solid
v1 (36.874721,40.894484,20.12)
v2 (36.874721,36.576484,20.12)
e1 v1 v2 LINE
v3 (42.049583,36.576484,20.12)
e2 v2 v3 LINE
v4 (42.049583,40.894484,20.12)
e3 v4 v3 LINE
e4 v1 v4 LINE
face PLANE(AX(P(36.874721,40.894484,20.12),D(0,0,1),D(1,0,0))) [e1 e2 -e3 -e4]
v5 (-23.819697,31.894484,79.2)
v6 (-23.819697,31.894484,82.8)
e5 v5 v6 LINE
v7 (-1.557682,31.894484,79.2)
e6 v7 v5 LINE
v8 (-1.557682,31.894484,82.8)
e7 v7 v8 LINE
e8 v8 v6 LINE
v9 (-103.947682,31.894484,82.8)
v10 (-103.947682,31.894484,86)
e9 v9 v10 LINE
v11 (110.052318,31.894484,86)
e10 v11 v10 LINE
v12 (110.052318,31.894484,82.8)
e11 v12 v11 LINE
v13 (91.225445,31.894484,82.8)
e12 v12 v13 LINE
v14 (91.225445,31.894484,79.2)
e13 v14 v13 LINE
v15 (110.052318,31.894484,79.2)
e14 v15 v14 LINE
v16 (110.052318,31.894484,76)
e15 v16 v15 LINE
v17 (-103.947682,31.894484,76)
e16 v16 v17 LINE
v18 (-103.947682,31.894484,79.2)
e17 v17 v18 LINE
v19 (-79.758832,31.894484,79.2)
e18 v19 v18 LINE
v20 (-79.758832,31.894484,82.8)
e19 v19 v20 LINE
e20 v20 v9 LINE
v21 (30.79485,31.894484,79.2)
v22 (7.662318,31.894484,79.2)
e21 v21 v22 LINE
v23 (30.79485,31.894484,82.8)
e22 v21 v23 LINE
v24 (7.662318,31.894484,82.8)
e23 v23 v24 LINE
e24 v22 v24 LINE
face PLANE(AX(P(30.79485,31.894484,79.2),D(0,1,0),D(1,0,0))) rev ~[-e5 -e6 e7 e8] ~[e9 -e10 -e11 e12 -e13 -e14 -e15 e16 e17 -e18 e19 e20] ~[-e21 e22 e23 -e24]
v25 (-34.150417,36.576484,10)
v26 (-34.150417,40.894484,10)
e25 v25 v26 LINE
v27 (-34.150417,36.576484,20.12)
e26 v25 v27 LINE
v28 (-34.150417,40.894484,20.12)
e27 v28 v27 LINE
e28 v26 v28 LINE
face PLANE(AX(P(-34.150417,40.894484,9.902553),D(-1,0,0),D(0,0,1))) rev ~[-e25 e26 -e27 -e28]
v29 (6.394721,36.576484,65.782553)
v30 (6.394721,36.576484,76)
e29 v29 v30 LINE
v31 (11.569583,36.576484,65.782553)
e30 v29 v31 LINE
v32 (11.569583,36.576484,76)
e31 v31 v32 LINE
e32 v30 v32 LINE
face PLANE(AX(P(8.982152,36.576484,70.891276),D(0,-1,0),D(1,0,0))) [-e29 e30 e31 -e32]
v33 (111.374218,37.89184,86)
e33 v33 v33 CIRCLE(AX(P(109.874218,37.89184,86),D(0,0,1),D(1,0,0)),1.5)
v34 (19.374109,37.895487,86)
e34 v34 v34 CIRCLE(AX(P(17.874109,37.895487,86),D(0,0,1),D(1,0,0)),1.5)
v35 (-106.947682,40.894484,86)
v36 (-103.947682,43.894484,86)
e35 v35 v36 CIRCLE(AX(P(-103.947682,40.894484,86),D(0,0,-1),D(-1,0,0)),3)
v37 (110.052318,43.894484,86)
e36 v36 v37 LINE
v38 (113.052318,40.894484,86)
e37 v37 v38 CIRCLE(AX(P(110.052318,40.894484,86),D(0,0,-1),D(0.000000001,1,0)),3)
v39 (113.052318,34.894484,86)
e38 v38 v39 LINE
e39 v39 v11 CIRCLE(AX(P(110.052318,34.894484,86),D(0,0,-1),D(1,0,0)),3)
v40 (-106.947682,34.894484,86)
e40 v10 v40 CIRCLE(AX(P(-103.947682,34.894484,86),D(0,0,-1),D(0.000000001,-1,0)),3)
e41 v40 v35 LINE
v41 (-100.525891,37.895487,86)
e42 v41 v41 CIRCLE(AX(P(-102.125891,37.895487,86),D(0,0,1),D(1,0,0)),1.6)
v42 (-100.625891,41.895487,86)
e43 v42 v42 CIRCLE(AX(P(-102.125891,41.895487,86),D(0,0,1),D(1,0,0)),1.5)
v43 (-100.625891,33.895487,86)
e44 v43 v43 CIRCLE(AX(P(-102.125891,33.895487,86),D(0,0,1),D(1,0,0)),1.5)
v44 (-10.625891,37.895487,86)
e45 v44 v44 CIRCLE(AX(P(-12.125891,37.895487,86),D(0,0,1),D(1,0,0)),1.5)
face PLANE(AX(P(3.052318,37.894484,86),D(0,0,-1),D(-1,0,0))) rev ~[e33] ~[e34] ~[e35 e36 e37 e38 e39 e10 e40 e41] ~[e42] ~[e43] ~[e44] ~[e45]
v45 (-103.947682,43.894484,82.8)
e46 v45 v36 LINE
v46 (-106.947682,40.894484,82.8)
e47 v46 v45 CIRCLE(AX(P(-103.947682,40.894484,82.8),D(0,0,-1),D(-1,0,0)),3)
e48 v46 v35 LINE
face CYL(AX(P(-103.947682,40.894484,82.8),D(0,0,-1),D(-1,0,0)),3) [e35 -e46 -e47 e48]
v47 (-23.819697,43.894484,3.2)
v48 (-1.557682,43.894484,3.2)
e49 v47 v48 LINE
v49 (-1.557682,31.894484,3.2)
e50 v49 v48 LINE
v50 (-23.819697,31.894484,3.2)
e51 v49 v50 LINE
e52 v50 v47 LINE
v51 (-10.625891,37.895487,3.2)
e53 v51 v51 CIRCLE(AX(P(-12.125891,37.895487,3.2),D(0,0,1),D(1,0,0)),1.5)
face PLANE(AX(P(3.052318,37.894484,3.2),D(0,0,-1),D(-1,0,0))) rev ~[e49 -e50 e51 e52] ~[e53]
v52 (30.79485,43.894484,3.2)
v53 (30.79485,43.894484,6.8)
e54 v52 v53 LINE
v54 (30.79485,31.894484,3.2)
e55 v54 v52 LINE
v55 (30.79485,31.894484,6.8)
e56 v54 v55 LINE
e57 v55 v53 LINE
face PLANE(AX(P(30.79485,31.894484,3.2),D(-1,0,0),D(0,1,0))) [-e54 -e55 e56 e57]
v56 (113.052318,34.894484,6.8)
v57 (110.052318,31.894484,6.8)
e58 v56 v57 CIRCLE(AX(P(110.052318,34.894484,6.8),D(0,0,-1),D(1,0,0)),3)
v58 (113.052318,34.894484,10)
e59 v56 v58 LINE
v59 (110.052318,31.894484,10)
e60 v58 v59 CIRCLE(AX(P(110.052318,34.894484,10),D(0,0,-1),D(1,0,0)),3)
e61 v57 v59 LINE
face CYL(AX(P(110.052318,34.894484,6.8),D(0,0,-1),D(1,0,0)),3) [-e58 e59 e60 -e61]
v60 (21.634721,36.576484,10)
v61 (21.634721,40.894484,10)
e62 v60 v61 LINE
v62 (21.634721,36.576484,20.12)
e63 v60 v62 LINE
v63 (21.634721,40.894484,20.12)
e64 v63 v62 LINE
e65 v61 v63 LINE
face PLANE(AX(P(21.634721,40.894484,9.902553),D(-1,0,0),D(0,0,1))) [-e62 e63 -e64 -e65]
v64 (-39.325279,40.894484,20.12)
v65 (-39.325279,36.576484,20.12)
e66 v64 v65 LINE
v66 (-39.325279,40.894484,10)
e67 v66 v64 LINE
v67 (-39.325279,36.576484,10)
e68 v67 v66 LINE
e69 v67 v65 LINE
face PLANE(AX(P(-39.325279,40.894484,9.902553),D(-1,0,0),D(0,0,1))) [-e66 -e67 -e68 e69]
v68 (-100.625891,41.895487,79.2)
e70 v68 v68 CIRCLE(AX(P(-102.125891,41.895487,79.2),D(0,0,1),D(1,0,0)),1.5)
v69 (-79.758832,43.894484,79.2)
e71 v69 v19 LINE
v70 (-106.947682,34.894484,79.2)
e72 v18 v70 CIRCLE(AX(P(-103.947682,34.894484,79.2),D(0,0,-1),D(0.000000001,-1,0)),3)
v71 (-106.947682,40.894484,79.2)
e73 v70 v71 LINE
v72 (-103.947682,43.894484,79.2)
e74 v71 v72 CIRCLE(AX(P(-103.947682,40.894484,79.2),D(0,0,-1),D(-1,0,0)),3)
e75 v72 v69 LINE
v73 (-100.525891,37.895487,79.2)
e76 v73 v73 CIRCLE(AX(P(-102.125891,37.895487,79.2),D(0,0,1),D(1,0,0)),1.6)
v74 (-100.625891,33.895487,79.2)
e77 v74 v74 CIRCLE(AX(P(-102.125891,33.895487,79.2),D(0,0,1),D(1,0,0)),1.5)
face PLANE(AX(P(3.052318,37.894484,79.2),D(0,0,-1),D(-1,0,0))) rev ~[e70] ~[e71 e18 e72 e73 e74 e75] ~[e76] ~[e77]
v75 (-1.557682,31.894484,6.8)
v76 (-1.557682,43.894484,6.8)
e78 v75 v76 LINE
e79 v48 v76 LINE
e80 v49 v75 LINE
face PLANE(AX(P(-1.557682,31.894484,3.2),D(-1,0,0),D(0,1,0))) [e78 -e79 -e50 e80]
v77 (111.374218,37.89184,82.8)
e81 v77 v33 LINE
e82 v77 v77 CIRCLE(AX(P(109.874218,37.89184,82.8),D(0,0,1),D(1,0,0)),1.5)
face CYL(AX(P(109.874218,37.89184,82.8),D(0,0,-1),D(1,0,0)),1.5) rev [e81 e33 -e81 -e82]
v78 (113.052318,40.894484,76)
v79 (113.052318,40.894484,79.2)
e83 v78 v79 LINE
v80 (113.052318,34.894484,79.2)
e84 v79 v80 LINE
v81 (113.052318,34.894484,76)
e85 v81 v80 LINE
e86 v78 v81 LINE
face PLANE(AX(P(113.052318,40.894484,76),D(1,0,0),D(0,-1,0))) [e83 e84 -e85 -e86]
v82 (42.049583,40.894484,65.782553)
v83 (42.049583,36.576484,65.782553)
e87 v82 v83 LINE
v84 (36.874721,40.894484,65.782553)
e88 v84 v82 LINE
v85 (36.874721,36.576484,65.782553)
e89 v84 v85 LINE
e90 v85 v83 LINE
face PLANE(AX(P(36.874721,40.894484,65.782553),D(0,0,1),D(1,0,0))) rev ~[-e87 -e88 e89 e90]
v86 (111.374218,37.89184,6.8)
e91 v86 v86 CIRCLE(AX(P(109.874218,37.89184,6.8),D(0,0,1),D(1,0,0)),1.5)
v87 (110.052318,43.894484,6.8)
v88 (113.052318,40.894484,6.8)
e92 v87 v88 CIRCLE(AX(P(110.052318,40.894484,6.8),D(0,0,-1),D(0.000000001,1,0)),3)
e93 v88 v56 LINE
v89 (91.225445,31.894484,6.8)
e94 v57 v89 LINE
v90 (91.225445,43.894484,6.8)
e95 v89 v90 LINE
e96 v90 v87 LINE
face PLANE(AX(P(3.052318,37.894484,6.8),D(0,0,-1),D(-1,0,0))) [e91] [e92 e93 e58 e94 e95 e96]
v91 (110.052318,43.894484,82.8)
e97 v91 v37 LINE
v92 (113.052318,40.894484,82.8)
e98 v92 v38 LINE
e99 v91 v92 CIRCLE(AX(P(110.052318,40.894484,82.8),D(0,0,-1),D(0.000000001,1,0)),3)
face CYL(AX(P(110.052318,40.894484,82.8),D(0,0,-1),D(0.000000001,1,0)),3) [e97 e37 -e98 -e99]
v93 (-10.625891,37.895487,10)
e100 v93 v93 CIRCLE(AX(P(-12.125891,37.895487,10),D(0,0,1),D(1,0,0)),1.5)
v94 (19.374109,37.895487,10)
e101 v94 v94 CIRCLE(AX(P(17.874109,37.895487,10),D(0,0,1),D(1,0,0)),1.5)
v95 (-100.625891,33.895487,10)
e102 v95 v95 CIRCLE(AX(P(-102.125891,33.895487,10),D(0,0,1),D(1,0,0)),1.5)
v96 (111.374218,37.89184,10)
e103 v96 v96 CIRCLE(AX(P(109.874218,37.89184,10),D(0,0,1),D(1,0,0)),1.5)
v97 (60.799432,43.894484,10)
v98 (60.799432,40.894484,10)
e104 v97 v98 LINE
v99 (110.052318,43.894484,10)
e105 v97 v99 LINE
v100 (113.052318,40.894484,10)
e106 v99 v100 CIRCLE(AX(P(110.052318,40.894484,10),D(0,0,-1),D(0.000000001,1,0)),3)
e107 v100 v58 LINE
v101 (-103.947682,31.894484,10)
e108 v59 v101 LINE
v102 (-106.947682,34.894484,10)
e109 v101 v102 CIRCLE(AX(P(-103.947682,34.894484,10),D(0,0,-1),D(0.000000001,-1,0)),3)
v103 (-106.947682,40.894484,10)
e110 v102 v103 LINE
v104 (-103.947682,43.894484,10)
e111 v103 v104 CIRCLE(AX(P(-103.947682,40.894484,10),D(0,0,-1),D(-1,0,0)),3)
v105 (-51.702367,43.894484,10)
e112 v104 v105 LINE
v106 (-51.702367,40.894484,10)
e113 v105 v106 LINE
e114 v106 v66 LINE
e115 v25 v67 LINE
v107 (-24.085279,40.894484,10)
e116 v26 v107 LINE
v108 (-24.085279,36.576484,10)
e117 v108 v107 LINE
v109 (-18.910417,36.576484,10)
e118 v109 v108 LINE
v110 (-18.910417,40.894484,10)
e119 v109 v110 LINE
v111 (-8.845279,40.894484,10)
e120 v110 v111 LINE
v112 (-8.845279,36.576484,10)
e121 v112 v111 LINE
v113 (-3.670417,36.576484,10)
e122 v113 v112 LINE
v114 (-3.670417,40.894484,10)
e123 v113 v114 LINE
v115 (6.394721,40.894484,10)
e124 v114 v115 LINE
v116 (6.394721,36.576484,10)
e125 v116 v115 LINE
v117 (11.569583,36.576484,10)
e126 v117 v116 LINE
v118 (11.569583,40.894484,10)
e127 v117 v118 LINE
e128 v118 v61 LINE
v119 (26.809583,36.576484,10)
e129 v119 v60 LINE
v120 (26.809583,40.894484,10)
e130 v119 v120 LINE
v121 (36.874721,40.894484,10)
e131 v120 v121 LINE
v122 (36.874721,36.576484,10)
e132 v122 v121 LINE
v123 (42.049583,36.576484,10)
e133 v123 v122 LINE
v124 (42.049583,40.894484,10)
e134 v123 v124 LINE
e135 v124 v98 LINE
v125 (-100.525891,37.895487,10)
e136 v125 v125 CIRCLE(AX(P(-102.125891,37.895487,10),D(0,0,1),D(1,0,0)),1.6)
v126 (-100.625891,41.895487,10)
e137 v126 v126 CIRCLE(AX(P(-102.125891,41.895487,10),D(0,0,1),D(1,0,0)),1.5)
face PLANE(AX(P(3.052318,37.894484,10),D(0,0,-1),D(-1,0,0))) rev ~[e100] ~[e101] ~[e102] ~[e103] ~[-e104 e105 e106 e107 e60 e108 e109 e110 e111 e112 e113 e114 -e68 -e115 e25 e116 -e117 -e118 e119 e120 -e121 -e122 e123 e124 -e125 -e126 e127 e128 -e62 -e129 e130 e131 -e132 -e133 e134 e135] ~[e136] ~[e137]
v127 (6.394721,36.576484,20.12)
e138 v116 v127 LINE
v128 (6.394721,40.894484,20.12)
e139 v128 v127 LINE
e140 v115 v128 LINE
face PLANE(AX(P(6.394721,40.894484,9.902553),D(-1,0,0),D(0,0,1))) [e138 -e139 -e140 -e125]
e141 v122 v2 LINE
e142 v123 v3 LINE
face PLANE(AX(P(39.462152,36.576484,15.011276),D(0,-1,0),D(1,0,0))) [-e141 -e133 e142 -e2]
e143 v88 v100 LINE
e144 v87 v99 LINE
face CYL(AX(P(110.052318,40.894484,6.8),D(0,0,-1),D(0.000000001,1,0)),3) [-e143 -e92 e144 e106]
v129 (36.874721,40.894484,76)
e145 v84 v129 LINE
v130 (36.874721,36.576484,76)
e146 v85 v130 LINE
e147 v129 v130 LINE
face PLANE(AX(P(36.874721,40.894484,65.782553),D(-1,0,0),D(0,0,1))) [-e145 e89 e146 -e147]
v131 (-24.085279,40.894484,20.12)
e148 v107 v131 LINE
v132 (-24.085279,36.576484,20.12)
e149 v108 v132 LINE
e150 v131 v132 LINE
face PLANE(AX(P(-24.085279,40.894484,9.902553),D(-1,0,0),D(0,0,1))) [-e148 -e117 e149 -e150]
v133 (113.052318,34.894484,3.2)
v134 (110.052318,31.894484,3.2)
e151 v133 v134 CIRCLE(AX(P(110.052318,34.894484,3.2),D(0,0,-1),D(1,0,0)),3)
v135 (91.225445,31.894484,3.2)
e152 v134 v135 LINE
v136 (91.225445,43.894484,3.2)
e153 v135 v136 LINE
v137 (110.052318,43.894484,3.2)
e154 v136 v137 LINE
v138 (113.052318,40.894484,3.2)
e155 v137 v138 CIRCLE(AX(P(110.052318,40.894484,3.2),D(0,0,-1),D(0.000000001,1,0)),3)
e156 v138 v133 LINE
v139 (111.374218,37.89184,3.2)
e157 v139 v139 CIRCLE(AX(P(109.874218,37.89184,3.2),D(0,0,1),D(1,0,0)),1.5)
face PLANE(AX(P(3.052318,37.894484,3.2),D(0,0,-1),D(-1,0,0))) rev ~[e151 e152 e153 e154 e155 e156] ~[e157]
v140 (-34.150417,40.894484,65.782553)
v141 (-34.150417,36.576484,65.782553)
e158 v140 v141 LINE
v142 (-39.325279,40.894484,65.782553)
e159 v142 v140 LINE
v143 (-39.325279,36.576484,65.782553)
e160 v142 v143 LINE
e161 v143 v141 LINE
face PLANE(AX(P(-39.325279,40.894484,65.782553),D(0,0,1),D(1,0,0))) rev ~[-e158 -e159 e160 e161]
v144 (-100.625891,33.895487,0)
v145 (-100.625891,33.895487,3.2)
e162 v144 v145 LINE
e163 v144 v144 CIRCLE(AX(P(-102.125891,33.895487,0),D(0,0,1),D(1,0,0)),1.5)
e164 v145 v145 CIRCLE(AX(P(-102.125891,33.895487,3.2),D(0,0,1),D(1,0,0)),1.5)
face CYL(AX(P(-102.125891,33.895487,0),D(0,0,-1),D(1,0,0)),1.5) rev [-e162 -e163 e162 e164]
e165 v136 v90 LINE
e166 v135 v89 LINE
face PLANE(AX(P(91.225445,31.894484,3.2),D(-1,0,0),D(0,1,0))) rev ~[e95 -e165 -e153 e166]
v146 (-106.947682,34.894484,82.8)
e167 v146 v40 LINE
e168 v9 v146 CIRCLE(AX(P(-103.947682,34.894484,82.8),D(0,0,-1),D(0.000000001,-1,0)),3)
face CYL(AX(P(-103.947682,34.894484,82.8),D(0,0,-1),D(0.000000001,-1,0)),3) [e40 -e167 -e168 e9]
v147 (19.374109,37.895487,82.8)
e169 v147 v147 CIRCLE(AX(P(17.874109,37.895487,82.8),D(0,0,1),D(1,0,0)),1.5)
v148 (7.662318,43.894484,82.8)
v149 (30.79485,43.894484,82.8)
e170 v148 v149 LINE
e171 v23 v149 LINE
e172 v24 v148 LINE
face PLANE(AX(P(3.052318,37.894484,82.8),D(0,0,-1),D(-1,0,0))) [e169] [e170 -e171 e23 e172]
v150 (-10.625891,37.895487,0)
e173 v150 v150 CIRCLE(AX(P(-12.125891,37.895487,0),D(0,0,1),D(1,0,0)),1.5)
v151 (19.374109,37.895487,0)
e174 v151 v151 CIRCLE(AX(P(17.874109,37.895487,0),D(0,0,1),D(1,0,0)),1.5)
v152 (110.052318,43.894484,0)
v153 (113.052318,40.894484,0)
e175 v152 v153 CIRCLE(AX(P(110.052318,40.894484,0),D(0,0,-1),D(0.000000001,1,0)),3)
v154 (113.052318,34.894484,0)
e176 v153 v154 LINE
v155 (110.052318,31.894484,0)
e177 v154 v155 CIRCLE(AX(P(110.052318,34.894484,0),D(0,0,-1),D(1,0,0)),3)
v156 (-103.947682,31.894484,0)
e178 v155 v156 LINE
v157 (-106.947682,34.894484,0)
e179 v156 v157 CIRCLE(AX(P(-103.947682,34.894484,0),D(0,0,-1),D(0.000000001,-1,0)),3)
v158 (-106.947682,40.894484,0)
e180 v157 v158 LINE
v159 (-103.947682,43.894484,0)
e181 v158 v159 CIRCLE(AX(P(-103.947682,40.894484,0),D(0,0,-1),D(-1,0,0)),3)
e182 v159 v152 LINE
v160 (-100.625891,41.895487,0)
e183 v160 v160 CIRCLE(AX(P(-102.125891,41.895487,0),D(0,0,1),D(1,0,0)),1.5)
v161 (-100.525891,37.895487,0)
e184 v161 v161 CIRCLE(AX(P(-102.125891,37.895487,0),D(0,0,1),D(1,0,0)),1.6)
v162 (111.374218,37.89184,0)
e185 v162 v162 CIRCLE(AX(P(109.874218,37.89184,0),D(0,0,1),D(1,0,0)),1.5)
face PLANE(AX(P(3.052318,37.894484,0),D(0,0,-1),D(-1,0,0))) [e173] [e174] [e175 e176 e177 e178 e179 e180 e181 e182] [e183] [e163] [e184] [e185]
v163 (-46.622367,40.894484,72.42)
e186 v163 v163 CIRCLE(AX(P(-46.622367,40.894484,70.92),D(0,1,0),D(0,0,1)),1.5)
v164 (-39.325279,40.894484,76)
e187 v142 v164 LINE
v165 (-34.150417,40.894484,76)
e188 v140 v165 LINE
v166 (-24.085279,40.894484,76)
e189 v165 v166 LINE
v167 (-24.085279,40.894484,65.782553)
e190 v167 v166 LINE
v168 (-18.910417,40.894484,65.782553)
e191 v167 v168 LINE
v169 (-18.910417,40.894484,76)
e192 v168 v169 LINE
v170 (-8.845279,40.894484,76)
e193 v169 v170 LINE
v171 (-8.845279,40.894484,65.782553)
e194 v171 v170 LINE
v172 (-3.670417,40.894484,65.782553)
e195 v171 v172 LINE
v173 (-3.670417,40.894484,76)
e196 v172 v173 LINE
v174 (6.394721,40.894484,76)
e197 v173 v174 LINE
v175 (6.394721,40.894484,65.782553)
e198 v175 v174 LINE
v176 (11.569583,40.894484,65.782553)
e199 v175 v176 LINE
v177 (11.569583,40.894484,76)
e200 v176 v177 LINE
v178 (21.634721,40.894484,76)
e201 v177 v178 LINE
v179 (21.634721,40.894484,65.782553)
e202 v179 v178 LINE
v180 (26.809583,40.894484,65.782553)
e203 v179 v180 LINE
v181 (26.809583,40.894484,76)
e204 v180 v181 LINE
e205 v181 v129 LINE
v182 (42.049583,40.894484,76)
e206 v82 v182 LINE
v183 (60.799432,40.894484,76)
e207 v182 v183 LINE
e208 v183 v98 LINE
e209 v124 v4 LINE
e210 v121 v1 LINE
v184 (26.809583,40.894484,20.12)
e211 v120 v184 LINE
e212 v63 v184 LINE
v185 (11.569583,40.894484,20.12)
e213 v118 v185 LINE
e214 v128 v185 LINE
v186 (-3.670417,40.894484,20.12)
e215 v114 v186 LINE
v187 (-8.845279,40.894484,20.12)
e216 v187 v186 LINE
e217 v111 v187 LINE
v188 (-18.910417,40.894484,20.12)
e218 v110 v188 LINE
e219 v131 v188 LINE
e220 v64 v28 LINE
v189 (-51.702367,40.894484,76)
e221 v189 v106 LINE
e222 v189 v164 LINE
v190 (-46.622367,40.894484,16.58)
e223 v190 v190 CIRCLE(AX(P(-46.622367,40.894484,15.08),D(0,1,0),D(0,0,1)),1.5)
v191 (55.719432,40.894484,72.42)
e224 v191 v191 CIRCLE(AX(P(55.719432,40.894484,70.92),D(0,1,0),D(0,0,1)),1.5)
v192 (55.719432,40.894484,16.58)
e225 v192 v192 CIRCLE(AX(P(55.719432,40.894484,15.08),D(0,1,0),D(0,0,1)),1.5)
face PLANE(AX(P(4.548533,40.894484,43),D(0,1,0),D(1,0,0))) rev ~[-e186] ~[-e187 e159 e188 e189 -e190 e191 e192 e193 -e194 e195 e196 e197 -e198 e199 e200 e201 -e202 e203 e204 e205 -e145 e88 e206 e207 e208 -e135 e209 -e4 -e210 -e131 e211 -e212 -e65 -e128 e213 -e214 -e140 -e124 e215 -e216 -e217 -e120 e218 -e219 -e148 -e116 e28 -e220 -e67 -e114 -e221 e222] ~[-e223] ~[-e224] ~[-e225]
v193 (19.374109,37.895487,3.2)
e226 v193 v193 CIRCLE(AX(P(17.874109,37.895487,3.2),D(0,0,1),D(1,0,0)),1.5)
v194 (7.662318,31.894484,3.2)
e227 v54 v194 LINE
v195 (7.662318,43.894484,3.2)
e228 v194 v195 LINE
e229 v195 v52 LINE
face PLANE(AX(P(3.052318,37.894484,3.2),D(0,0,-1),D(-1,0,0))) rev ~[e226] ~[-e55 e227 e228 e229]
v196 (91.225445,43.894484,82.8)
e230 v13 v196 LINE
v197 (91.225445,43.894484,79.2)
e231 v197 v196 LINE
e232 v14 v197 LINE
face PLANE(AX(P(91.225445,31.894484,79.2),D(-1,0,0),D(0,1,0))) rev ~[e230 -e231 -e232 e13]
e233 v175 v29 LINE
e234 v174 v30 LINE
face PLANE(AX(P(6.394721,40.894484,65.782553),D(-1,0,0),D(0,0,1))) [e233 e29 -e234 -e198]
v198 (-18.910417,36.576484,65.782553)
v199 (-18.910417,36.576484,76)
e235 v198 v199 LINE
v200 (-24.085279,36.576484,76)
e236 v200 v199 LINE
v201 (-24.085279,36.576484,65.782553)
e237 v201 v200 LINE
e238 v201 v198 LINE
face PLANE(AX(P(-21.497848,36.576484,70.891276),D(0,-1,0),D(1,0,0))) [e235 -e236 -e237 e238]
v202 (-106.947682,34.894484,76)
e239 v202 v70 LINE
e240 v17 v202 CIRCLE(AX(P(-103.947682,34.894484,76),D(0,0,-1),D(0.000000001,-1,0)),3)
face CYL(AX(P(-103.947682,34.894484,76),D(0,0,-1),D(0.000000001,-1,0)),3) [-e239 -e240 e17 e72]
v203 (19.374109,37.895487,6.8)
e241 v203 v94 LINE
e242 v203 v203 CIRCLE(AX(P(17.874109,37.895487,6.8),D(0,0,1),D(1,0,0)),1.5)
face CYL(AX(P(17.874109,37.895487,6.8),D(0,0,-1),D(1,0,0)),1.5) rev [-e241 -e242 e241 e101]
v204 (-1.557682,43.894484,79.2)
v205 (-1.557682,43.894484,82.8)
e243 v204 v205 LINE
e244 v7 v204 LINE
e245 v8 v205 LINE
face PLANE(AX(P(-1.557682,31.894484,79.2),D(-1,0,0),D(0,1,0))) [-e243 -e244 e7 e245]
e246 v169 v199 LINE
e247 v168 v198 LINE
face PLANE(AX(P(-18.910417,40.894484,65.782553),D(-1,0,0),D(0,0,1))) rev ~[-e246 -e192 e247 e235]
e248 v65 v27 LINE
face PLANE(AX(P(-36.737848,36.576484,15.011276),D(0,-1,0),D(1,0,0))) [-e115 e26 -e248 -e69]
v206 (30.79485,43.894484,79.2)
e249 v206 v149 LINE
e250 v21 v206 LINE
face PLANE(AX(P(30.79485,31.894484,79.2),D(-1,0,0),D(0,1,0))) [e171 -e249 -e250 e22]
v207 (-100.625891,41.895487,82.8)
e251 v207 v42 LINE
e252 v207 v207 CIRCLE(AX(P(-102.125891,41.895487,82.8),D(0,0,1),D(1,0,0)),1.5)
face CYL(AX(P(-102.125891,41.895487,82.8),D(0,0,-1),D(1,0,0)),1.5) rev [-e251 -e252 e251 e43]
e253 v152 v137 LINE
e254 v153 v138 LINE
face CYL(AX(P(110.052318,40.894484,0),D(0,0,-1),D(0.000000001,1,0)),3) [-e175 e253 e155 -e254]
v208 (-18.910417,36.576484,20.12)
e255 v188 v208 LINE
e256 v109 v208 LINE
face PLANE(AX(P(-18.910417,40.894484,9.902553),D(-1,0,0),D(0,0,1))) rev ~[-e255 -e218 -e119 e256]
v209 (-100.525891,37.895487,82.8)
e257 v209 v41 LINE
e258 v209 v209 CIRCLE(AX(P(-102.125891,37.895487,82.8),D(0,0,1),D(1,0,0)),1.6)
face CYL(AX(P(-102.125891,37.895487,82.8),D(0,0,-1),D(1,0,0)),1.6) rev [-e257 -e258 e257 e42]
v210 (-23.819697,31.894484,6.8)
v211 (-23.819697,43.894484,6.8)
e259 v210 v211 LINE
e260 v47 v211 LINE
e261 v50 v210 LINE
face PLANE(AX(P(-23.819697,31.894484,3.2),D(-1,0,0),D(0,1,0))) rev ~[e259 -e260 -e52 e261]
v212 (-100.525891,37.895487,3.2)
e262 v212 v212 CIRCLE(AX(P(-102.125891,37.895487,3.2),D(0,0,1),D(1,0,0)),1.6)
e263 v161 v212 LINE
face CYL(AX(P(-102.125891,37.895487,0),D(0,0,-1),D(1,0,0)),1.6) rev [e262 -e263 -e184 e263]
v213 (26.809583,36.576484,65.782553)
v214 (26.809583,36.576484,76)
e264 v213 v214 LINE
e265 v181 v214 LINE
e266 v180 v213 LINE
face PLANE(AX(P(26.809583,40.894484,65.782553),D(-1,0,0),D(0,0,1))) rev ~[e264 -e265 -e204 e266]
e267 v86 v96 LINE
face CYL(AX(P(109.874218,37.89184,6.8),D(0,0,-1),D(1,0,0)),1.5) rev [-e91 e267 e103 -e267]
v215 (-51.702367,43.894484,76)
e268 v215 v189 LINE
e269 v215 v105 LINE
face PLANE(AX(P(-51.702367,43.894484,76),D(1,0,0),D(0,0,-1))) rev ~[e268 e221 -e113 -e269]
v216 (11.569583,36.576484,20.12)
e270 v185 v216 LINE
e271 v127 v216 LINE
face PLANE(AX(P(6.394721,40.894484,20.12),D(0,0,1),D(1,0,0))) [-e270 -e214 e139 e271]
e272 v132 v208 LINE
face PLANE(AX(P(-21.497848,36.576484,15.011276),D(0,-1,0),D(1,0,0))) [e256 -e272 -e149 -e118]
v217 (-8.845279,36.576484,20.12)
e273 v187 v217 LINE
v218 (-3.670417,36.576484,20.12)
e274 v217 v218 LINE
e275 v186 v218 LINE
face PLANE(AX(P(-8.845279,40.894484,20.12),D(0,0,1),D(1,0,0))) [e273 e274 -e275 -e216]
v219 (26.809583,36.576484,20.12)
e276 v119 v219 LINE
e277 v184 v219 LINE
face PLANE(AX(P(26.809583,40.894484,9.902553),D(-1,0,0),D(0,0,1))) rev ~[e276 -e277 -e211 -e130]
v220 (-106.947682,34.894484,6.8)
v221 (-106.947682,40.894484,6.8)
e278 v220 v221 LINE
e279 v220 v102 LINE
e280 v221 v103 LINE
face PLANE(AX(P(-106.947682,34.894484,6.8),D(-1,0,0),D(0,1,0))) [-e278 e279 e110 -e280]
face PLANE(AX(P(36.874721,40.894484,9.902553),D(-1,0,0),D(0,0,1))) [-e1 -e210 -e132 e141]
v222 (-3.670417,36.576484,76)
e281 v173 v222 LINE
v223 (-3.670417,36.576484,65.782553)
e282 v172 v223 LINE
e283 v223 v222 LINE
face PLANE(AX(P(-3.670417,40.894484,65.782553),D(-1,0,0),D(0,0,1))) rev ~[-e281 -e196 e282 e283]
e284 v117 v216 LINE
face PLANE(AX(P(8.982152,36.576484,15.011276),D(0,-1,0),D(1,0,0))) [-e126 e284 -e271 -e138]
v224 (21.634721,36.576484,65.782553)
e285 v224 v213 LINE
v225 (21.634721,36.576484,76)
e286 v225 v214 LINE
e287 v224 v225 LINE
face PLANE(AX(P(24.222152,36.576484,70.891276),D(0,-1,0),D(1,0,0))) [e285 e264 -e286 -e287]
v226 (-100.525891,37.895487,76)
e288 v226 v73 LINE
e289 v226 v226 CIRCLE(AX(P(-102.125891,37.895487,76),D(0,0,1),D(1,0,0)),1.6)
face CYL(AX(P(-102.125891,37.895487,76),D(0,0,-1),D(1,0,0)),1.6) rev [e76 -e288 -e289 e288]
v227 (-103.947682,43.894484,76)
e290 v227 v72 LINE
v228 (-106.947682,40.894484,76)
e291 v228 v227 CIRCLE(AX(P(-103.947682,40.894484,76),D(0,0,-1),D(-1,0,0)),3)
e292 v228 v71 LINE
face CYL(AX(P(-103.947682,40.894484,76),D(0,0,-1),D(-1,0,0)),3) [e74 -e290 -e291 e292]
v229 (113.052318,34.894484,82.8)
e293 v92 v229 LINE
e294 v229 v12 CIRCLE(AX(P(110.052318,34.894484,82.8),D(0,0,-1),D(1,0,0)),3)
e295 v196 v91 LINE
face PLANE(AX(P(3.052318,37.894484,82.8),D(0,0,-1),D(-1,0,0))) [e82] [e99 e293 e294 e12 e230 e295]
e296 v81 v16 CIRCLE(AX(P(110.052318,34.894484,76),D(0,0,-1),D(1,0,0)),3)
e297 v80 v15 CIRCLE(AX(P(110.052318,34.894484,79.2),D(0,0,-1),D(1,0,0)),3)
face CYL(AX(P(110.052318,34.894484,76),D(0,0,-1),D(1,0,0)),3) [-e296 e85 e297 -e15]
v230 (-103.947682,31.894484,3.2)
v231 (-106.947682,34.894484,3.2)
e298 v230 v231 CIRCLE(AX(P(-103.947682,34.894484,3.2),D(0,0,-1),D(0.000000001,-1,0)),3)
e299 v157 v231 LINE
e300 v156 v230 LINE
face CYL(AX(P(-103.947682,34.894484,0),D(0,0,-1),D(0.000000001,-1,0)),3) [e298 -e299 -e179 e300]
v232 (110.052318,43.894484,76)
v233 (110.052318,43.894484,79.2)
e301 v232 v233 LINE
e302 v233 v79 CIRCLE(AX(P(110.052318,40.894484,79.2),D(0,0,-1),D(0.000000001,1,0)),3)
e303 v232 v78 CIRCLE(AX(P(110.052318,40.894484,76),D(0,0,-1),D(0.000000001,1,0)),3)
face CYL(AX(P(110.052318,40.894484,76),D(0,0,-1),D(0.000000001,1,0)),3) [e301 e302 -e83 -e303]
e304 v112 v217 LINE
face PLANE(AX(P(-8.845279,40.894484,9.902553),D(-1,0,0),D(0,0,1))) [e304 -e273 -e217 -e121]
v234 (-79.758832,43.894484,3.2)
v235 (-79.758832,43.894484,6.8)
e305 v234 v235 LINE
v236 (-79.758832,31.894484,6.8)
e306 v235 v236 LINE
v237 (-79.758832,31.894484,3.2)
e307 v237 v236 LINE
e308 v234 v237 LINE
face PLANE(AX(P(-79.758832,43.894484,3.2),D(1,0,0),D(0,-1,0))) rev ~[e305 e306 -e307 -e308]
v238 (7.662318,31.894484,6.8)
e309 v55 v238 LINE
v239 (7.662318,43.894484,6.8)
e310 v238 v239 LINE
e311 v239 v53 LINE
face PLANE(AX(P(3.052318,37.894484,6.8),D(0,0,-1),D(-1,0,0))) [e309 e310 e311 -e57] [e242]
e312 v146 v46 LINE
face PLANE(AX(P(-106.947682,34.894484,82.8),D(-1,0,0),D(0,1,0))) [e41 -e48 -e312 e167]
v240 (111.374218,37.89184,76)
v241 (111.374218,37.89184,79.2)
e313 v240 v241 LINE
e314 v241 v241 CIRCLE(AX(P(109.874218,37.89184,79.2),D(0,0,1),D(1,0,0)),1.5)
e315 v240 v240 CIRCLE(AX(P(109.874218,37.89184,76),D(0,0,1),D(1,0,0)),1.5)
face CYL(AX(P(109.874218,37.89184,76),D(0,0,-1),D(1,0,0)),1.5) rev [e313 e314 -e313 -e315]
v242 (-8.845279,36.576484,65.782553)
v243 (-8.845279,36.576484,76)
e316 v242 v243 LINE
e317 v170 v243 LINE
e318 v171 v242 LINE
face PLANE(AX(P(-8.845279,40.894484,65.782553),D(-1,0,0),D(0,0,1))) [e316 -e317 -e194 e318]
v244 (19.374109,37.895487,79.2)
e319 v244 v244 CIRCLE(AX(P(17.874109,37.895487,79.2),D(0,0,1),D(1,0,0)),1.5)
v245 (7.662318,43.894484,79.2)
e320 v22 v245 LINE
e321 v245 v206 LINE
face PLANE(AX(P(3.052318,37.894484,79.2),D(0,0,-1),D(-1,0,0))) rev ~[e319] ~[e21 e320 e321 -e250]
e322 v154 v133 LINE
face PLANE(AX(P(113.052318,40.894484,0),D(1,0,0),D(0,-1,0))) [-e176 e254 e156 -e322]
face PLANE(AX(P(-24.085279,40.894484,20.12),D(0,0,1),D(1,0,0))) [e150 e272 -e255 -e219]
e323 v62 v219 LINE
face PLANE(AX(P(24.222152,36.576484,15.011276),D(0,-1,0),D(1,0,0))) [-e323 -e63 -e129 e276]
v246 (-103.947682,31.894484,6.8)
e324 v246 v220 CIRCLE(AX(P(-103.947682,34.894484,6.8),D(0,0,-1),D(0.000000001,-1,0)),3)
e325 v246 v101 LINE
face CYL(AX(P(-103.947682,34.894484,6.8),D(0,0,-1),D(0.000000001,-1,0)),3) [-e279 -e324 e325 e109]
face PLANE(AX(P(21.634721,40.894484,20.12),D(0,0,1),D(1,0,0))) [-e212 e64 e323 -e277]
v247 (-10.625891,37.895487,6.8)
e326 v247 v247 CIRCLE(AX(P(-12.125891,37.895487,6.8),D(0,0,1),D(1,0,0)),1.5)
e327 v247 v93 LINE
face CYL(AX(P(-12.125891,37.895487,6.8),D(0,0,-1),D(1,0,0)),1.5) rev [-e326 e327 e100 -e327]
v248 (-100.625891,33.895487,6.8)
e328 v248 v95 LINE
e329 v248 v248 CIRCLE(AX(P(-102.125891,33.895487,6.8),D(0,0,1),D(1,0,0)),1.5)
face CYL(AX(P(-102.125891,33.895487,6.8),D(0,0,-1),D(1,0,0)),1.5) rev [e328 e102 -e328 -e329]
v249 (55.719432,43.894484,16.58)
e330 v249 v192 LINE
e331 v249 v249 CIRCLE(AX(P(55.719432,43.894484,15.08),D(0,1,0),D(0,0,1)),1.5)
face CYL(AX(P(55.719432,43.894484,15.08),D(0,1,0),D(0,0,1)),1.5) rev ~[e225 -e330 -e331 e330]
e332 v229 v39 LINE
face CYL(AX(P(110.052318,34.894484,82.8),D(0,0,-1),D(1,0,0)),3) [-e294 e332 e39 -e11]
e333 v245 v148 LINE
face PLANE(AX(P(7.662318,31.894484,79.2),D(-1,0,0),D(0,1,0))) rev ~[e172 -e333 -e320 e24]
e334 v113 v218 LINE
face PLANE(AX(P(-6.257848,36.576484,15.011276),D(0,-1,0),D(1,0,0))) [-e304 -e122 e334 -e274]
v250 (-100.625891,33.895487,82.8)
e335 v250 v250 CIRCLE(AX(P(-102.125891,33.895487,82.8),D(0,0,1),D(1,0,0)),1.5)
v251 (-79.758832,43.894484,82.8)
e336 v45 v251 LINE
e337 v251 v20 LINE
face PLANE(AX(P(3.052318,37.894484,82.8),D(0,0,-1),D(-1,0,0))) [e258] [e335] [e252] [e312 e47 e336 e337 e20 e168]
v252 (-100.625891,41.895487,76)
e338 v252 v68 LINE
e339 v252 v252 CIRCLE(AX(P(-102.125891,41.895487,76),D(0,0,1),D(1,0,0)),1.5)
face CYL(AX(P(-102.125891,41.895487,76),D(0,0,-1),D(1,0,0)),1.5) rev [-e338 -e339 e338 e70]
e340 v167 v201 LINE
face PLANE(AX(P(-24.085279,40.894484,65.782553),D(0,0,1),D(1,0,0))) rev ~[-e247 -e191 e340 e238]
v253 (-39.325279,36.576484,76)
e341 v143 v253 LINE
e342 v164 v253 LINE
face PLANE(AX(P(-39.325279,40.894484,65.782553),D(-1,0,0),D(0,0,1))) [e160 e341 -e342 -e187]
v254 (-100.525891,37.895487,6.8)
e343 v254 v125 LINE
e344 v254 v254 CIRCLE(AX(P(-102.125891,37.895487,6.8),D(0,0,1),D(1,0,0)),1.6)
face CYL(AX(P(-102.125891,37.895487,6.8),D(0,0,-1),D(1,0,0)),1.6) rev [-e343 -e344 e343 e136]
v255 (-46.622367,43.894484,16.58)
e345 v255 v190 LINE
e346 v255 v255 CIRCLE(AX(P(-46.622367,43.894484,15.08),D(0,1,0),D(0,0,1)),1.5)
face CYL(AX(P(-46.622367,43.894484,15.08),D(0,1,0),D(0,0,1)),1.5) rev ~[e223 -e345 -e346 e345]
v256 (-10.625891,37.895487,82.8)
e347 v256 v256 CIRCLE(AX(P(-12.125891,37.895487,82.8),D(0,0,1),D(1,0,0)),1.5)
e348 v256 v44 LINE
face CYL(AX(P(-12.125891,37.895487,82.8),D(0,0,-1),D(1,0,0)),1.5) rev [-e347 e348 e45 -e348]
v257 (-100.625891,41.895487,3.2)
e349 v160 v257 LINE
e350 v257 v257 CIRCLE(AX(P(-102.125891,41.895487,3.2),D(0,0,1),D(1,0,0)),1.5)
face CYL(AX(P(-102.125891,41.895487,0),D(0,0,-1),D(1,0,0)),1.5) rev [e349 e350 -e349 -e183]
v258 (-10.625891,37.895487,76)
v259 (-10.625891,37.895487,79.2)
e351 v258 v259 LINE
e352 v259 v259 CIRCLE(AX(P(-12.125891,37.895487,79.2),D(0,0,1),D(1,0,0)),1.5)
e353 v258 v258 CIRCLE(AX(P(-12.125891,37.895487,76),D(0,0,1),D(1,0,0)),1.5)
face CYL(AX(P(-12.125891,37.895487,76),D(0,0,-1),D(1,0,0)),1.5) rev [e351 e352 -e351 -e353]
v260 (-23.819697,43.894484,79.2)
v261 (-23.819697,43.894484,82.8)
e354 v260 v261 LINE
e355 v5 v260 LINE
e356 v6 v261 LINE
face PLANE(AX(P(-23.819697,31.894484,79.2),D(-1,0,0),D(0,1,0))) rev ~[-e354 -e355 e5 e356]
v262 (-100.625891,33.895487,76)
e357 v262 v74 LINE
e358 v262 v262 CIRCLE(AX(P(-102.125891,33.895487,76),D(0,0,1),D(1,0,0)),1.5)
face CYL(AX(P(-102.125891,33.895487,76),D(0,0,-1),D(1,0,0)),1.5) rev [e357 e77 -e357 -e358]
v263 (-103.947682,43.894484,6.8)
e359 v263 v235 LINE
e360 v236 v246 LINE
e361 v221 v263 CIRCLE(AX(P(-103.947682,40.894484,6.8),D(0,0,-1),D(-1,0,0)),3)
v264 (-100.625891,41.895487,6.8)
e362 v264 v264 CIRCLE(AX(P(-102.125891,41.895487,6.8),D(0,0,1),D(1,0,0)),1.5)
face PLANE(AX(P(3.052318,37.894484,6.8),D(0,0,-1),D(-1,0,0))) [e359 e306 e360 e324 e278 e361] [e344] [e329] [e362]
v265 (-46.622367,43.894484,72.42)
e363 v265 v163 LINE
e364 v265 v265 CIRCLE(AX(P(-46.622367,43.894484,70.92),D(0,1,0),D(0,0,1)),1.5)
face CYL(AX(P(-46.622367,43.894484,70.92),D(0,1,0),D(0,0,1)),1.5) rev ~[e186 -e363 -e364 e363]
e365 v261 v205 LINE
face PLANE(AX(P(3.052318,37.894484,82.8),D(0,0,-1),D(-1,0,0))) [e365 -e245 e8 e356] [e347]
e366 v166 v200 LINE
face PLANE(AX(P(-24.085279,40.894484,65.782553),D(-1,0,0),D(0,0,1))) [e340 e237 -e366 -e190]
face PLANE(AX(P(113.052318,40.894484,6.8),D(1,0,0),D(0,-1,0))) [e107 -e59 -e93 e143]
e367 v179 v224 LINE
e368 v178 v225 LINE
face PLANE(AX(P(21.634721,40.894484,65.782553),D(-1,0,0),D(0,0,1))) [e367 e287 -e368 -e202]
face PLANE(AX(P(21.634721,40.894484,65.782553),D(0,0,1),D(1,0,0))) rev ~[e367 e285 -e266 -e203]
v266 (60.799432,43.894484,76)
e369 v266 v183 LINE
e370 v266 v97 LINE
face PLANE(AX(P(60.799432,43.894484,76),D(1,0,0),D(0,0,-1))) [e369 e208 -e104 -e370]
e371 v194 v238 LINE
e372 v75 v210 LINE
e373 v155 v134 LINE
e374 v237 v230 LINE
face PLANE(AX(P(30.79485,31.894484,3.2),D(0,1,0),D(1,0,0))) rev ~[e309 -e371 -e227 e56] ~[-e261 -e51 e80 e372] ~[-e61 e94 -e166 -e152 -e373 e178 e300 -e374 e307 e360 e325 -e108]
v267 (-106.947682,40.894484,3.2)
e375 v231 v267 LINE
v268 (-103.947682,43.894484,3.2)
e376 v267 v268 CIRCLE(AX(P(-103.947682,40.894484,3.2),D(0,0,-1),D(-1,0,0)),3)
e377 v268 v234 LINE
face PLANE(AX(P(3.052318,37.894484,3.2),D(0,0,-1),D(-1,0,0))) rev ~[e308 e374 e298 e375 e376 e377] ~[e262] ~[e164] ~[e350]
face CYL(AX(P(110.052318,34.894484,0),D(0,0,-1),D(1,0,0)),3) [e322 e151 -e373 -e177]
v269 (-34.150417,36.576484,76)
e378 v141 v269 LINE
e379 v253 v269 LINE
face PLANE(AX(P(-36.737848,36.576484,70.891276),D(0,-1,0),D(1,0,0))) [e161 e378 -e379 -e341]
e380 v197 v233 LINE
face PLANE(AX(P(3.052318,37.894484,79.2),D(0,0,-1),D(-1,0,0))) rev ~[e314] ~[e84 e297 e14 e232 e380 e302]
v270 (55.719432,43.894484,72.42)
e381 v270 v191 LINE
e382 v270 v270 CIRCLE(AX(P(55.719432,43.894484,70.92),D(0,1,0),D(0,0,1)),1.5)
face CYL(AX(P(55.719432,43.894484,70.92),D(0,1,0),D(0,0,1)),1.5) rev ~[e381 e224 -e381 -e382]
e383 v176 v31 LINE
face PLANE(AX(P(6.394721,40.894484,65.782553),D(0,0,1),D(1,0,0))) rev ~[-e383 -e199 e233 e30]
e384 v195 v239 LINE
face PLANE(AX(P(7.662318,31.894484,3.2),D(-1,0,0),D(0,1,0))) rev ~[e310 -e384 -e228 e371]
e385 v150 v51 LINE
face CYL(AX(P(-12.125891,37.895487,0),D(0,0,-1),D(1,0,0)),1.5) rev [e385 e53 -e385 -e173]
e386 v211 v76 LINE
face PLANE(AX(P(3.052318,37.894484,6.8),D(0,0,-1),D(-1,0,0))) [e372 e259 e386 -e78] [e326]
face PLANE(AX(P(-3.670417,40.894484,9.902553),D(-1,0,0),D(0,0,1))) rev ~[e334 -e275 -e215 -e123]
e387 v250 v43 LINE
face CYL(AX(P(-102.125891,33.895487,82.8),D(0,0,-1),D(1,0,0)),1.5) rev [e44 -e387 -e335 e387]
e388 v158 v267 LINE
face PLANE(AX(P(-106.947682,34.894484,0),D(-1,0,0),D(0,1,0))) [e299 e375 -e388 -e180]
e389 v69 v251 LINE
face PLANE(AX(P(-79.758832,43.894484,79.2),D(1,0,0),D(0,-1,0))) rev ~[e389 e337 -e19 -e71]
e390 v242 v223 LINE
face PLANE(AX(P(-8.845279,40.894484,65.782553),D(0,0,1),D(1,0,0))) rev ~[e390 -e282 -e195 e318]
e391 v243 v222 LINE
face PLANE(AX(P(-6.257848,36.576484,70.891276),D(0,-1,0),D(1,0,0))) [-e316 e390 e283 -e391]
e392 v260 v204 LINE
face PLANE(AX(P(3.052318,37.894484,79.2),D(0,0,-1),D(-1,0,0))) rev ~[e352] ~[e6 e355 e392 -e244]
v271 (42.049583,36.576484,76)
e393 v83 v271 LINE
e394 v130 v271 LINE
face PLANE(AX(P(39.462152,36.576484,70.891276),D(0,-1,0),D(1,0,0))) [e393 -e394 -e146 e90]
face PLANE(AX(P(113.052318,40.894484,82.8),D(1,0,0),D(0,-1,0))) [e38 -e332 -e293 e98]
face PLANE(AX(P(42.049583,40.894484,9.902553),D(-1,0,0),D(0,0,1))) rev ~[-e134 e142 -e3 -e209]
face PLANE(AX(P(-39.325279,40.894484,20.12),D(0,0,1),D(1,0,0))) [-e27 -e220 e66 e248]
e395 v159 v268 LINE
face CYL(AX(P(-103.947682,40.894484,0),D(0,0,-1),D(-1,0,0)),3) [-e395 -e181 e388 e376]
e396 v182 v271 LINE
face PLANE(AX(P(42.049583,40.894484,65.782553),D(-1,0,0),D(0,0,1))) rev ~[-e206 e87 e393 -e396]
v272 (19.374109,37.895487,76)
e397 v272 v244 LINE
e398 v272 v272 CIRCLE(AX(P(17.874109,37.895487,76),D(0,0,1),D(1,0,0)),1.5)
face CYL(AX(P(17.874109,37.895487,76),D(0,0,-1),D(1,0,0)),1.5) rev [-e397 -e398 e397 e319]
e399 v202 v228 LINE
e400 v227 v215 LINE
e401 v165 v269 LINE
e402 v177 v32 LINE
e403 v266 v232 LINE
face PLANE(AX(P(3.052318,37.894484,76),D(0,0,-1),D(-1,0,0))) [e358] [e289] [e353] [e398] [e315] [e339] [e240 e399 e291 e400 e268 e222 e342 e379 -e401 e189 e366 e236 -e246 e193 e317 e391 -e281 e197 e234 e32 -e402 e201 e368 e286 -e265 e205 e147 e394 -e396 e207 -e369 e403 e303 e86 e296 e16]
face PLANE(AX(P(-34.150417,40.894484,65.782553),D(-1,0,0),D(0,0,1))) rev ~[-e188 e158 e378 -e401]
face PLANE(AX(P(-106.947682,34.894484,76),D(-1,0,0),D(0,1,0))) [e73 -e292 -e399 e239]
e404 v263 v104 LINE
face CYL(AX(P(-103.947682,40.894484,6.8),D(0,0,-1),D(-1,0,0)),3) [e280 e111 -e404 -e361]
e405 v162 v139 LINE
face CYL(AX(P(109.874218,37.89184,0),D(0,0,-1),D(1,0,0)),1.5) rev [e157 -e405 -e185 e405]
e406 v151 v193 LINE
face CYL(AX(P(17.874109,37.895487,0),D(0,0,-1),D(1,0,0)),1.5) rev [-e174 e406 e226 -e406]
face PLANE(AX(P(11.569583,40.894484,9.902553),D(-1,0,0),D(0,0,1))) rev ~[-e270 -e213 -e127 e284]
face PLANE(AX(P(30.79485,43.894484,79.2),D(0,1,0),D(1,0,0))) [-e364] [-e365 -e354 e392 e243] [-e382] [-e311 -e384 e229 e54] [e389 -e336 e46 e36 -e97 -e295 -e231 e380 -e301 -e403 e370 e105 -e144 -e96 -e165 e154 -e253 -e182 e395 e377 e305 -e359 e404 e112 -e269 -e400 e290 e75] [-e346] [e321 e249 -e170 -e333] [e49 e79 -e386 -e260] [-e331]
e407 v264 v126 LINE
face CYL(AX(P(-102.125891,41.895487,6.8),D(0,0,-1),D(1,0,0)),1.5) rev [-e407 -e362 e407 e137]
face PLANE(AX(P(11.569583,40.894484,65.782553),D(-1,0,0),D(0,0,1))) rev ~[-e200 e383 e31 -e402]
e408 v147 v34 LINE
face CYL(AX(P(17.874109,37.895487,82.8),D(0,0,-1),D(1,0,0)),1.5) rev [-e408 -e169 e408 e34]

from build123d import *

# Parameters (mm, degrees)
SKETCH1_R           = 1.6
SKETCH1_R_2         = 1.5
BOSS_EXTRUDE3_DEPTH = 3.2
LPATTERN2_COUNT     = 2
LPATTERN2_PITCH     = 6.8
SKETCH9_W           = 9.22
SKETCH9_H           = 12
BOSS_EXTRUDE5_DEPTH = 3.7
SKETCH11_W          = 60.430595346
SKETCH11_H          = 12
BOSS_EXTRUDE6_DEPTH = 3.7
LPATTERN3_COUNT     = 2
LPATTERN3_PITCH     = 76
SKETCH13_W          = 112.501798465
SKETCH13_H          = 66
BOSS_EXTRUDE8_DEPTH = 3
SKETCH14_R          = 1.5
CUT_EXTRUDE2_DEPTH  = 4.318
SKETCH22_W          = 5.174861703
SKETCH22_H          = 10.217447179
BOSS_EXTRUDE9_DEPTH = 4.318


with BuildPart() as part:
    # Sketch1 → Boss-Extrude3 (new body)
    with BuildSketch(Plane.XY):
        with BuildLine():
            Line((-103.947681543, 43.894483621), (110.052318457, 43.894483621))
            ThreePointArc((110.052318457, 43.894483621), (112.1736388, 43.015803964), (113.052318457, 40.894483621))
            Line((113.052318457, 40.894483621), (113.052318457, 34.894483621))
            ThreePointArc((113.052318457, 34.894483621), (112.1736388, 32.773163277), (110.052318457, 31.894483621))
            Line((110.052318457, 31.894483621), (-103.947681543, 31.894483621))
            ThreePointArc((-103.947681543, 31.894483621), (-106.069001887, 32.773163277), (-106.947681543, 34.894483621))
            Line((-106.947681543, 34.894483621), (-106.947681543, 40.894483621))
            ThreePointArc((-106.947681543, 40.894483621), (-106.069001887, 43.015803964), (-103.947681543, 43.894483621))
        make_face()
        with Locations((-102.125890736, 37.895486936)):
            Circle(SKETCH1_R, mode=Mode.SUBTRACT)
        with Locations((-102.125890736, 41.895486936)):
            Circle(SKETCH1_R_2, mode=Mode.SUBTRACT)
        with Locations((-102.125890736, 33.895486936)):
            Circle(SKETCH1_R_2, mode=Mode.SUBTRACT)
        with Locations((109.874217574, 37.891839711)):
            Circle(SKETCH1_R_2, mode=Mode.SUBTRACT)
        with Locations((-12.125890736, 37.895486936)):
            Circle(SKETCH1_R_2, mode=Mode.SUBTRACT)
        with Locations((17.874109264, 37.895486936)):
            Circle(SKETCH1_R_2, mode=Mode.SUBTRACT)
    extrude(amount=BOSS_EXTRUDE3_DEPTH)


with BuildPart() as lpattern2_1:
    # LPattern2: pattern copy
    add(part.part.moved(Location(Vector(0, 0, 1) * (1 * LPATTERN2_PITCH))))


with BuildPart() as part_1:
    add(part.part)

    add(lpattern2_1.part)  # Boss-Extrude5 merges LPattern2_1
    # Sketch9 → Boss-Extrude5 (add)
    with BuildSketch(Plane.XY.offset(3.2)):
        with Locations((3.052318457, 37.894483621)):
            Rectangle(SKETCH9_W, SKETCH9_H)
    extrude(amount=BOSS_EXTRUDE5_DEPTH)

    # Sketch11 → Boss-Extrude6 (add)
    with BuildSketch(Plane.XY.offset(3.2)):
        with Locations((61.010147688, 37.894483621)):
            Rectangle(SKETCH11_W, SKETCH11_H)
        Polygon((-79.696539418, 43.894483621), (-79.758832443, 43.894483621), (-79.758832443, 31.894483621), (-23.819696729, 31.894483621), (-23.819696729, 43.894483621), align=None)
    extrude(amount=BOSS_EXTRUDE6_DEPTH)


with BuildPart() as lpattern3_1:
    # LPattern3: pattern copy
    add(part_1.part.moved(Location(Vector(0, 0, 1) * (1 * LPATTERN3_PITCH))))


with BuildPart() as part_2:
    add(part_1.part)

    add(lpattern3_1.part)  # Boss-Extrude8 merges LPattern3_1
    # Sketch13 → Boss-Extrude8 (add)
    with BuildSketch(Plane(origin=(0, 43.894483621, 0), x_dir=(1, 0, 0), z_dir=(0, 1, 0))):
        with Locations((4.548532601, -43)):
            Rectangle(SKETCH13_W, SKETCH13_H)
    extrude(amount=-BOSS_EXTRUDE8_DEPTH)

    # Sketch14 → Cut-Extrude2 (cut)
    with BuildSketch(Plane(origin=(0, 43.894483621, 0), x_dir=(1, 0, 0), z_dir=(0, 1, 0))):
        with Locations(Location((-46.622366631, -15.08, 0), (0, 0, 270))):
            Circle(SKETCH14_R)
        with Locations(Location((55.719431834, -15.08, 0), (0, 0, 270))):
            Circle(SKETCH14_R)
        with Locations(Location((55.719431834, -70.92, 0), (0, 0, 270))):
            Circle(SKETCH14_R)
        with Locations(Location((-46.622366631, -70.92, 0), (0, 0, 270))):
            Circle(SKETCH14_R)
    extrude(amount=-CUT_EXTRUDE2_DEPTH, mode=Mode.SUBTRACT)

    # Sketch22 → Boss-Extrude9 (add)
    with BuildSketch(Plane.XZ.offset(-40.894483621)):
        with Locations((-36.737847825, 70.891276411)):
            Rectangle(SKETCH22_W, SKETCH22_H)
        with Locations((-21.497847826, 70.891276411)):
            Rectangle(SKETCH22_W, SKETCH22_H)
        with Locations((-6.257847826, 70.891276411)):
            Rectangle(SKETCH22_W, SKETCH22_H)
        with Locations((8.982152175, 70.891276411)):
            Rectangle(SKETCH22_W, SKETCH22_H)
        with Locations((24.222152175, 70.891276411)):
            Rectangle(SKETCH22_W, SKETCH22_H)
        with Locations((39.462152175, 70.891276411)):
            Rectangle(SKETCH22_W, SKETCH22_H)
        with Locations((-21.497847826, 15.011276411)):
            Rectangle(SKETCH22_W, SKETCH22_H)
        with Locations((-6.257847826, 15.011276411)):
            Rectangle(SKETCH22_W, SKETCH22_H)
        with Locations((8.982152175, 15.011276411)):
            Rectangle(SKETCH22_W, SKETCH22_H)
        with Locations((24.222152175, 15.011276411)):
            Rectangle(SKETCH22_W, SKETCH22_H)
        with Locations((39.462152175, 15.011276411)):
            Rectangle(SKETCH22_W, SKETCH22_H)
        with Locations((-36.737847825, 15.011276411)):
            Rectangle(SKETCH22_W, SKETCH22_H)
    extrude(amount=BOSS_EXTRUDE9_DEPTH)


solid = part_2.part
